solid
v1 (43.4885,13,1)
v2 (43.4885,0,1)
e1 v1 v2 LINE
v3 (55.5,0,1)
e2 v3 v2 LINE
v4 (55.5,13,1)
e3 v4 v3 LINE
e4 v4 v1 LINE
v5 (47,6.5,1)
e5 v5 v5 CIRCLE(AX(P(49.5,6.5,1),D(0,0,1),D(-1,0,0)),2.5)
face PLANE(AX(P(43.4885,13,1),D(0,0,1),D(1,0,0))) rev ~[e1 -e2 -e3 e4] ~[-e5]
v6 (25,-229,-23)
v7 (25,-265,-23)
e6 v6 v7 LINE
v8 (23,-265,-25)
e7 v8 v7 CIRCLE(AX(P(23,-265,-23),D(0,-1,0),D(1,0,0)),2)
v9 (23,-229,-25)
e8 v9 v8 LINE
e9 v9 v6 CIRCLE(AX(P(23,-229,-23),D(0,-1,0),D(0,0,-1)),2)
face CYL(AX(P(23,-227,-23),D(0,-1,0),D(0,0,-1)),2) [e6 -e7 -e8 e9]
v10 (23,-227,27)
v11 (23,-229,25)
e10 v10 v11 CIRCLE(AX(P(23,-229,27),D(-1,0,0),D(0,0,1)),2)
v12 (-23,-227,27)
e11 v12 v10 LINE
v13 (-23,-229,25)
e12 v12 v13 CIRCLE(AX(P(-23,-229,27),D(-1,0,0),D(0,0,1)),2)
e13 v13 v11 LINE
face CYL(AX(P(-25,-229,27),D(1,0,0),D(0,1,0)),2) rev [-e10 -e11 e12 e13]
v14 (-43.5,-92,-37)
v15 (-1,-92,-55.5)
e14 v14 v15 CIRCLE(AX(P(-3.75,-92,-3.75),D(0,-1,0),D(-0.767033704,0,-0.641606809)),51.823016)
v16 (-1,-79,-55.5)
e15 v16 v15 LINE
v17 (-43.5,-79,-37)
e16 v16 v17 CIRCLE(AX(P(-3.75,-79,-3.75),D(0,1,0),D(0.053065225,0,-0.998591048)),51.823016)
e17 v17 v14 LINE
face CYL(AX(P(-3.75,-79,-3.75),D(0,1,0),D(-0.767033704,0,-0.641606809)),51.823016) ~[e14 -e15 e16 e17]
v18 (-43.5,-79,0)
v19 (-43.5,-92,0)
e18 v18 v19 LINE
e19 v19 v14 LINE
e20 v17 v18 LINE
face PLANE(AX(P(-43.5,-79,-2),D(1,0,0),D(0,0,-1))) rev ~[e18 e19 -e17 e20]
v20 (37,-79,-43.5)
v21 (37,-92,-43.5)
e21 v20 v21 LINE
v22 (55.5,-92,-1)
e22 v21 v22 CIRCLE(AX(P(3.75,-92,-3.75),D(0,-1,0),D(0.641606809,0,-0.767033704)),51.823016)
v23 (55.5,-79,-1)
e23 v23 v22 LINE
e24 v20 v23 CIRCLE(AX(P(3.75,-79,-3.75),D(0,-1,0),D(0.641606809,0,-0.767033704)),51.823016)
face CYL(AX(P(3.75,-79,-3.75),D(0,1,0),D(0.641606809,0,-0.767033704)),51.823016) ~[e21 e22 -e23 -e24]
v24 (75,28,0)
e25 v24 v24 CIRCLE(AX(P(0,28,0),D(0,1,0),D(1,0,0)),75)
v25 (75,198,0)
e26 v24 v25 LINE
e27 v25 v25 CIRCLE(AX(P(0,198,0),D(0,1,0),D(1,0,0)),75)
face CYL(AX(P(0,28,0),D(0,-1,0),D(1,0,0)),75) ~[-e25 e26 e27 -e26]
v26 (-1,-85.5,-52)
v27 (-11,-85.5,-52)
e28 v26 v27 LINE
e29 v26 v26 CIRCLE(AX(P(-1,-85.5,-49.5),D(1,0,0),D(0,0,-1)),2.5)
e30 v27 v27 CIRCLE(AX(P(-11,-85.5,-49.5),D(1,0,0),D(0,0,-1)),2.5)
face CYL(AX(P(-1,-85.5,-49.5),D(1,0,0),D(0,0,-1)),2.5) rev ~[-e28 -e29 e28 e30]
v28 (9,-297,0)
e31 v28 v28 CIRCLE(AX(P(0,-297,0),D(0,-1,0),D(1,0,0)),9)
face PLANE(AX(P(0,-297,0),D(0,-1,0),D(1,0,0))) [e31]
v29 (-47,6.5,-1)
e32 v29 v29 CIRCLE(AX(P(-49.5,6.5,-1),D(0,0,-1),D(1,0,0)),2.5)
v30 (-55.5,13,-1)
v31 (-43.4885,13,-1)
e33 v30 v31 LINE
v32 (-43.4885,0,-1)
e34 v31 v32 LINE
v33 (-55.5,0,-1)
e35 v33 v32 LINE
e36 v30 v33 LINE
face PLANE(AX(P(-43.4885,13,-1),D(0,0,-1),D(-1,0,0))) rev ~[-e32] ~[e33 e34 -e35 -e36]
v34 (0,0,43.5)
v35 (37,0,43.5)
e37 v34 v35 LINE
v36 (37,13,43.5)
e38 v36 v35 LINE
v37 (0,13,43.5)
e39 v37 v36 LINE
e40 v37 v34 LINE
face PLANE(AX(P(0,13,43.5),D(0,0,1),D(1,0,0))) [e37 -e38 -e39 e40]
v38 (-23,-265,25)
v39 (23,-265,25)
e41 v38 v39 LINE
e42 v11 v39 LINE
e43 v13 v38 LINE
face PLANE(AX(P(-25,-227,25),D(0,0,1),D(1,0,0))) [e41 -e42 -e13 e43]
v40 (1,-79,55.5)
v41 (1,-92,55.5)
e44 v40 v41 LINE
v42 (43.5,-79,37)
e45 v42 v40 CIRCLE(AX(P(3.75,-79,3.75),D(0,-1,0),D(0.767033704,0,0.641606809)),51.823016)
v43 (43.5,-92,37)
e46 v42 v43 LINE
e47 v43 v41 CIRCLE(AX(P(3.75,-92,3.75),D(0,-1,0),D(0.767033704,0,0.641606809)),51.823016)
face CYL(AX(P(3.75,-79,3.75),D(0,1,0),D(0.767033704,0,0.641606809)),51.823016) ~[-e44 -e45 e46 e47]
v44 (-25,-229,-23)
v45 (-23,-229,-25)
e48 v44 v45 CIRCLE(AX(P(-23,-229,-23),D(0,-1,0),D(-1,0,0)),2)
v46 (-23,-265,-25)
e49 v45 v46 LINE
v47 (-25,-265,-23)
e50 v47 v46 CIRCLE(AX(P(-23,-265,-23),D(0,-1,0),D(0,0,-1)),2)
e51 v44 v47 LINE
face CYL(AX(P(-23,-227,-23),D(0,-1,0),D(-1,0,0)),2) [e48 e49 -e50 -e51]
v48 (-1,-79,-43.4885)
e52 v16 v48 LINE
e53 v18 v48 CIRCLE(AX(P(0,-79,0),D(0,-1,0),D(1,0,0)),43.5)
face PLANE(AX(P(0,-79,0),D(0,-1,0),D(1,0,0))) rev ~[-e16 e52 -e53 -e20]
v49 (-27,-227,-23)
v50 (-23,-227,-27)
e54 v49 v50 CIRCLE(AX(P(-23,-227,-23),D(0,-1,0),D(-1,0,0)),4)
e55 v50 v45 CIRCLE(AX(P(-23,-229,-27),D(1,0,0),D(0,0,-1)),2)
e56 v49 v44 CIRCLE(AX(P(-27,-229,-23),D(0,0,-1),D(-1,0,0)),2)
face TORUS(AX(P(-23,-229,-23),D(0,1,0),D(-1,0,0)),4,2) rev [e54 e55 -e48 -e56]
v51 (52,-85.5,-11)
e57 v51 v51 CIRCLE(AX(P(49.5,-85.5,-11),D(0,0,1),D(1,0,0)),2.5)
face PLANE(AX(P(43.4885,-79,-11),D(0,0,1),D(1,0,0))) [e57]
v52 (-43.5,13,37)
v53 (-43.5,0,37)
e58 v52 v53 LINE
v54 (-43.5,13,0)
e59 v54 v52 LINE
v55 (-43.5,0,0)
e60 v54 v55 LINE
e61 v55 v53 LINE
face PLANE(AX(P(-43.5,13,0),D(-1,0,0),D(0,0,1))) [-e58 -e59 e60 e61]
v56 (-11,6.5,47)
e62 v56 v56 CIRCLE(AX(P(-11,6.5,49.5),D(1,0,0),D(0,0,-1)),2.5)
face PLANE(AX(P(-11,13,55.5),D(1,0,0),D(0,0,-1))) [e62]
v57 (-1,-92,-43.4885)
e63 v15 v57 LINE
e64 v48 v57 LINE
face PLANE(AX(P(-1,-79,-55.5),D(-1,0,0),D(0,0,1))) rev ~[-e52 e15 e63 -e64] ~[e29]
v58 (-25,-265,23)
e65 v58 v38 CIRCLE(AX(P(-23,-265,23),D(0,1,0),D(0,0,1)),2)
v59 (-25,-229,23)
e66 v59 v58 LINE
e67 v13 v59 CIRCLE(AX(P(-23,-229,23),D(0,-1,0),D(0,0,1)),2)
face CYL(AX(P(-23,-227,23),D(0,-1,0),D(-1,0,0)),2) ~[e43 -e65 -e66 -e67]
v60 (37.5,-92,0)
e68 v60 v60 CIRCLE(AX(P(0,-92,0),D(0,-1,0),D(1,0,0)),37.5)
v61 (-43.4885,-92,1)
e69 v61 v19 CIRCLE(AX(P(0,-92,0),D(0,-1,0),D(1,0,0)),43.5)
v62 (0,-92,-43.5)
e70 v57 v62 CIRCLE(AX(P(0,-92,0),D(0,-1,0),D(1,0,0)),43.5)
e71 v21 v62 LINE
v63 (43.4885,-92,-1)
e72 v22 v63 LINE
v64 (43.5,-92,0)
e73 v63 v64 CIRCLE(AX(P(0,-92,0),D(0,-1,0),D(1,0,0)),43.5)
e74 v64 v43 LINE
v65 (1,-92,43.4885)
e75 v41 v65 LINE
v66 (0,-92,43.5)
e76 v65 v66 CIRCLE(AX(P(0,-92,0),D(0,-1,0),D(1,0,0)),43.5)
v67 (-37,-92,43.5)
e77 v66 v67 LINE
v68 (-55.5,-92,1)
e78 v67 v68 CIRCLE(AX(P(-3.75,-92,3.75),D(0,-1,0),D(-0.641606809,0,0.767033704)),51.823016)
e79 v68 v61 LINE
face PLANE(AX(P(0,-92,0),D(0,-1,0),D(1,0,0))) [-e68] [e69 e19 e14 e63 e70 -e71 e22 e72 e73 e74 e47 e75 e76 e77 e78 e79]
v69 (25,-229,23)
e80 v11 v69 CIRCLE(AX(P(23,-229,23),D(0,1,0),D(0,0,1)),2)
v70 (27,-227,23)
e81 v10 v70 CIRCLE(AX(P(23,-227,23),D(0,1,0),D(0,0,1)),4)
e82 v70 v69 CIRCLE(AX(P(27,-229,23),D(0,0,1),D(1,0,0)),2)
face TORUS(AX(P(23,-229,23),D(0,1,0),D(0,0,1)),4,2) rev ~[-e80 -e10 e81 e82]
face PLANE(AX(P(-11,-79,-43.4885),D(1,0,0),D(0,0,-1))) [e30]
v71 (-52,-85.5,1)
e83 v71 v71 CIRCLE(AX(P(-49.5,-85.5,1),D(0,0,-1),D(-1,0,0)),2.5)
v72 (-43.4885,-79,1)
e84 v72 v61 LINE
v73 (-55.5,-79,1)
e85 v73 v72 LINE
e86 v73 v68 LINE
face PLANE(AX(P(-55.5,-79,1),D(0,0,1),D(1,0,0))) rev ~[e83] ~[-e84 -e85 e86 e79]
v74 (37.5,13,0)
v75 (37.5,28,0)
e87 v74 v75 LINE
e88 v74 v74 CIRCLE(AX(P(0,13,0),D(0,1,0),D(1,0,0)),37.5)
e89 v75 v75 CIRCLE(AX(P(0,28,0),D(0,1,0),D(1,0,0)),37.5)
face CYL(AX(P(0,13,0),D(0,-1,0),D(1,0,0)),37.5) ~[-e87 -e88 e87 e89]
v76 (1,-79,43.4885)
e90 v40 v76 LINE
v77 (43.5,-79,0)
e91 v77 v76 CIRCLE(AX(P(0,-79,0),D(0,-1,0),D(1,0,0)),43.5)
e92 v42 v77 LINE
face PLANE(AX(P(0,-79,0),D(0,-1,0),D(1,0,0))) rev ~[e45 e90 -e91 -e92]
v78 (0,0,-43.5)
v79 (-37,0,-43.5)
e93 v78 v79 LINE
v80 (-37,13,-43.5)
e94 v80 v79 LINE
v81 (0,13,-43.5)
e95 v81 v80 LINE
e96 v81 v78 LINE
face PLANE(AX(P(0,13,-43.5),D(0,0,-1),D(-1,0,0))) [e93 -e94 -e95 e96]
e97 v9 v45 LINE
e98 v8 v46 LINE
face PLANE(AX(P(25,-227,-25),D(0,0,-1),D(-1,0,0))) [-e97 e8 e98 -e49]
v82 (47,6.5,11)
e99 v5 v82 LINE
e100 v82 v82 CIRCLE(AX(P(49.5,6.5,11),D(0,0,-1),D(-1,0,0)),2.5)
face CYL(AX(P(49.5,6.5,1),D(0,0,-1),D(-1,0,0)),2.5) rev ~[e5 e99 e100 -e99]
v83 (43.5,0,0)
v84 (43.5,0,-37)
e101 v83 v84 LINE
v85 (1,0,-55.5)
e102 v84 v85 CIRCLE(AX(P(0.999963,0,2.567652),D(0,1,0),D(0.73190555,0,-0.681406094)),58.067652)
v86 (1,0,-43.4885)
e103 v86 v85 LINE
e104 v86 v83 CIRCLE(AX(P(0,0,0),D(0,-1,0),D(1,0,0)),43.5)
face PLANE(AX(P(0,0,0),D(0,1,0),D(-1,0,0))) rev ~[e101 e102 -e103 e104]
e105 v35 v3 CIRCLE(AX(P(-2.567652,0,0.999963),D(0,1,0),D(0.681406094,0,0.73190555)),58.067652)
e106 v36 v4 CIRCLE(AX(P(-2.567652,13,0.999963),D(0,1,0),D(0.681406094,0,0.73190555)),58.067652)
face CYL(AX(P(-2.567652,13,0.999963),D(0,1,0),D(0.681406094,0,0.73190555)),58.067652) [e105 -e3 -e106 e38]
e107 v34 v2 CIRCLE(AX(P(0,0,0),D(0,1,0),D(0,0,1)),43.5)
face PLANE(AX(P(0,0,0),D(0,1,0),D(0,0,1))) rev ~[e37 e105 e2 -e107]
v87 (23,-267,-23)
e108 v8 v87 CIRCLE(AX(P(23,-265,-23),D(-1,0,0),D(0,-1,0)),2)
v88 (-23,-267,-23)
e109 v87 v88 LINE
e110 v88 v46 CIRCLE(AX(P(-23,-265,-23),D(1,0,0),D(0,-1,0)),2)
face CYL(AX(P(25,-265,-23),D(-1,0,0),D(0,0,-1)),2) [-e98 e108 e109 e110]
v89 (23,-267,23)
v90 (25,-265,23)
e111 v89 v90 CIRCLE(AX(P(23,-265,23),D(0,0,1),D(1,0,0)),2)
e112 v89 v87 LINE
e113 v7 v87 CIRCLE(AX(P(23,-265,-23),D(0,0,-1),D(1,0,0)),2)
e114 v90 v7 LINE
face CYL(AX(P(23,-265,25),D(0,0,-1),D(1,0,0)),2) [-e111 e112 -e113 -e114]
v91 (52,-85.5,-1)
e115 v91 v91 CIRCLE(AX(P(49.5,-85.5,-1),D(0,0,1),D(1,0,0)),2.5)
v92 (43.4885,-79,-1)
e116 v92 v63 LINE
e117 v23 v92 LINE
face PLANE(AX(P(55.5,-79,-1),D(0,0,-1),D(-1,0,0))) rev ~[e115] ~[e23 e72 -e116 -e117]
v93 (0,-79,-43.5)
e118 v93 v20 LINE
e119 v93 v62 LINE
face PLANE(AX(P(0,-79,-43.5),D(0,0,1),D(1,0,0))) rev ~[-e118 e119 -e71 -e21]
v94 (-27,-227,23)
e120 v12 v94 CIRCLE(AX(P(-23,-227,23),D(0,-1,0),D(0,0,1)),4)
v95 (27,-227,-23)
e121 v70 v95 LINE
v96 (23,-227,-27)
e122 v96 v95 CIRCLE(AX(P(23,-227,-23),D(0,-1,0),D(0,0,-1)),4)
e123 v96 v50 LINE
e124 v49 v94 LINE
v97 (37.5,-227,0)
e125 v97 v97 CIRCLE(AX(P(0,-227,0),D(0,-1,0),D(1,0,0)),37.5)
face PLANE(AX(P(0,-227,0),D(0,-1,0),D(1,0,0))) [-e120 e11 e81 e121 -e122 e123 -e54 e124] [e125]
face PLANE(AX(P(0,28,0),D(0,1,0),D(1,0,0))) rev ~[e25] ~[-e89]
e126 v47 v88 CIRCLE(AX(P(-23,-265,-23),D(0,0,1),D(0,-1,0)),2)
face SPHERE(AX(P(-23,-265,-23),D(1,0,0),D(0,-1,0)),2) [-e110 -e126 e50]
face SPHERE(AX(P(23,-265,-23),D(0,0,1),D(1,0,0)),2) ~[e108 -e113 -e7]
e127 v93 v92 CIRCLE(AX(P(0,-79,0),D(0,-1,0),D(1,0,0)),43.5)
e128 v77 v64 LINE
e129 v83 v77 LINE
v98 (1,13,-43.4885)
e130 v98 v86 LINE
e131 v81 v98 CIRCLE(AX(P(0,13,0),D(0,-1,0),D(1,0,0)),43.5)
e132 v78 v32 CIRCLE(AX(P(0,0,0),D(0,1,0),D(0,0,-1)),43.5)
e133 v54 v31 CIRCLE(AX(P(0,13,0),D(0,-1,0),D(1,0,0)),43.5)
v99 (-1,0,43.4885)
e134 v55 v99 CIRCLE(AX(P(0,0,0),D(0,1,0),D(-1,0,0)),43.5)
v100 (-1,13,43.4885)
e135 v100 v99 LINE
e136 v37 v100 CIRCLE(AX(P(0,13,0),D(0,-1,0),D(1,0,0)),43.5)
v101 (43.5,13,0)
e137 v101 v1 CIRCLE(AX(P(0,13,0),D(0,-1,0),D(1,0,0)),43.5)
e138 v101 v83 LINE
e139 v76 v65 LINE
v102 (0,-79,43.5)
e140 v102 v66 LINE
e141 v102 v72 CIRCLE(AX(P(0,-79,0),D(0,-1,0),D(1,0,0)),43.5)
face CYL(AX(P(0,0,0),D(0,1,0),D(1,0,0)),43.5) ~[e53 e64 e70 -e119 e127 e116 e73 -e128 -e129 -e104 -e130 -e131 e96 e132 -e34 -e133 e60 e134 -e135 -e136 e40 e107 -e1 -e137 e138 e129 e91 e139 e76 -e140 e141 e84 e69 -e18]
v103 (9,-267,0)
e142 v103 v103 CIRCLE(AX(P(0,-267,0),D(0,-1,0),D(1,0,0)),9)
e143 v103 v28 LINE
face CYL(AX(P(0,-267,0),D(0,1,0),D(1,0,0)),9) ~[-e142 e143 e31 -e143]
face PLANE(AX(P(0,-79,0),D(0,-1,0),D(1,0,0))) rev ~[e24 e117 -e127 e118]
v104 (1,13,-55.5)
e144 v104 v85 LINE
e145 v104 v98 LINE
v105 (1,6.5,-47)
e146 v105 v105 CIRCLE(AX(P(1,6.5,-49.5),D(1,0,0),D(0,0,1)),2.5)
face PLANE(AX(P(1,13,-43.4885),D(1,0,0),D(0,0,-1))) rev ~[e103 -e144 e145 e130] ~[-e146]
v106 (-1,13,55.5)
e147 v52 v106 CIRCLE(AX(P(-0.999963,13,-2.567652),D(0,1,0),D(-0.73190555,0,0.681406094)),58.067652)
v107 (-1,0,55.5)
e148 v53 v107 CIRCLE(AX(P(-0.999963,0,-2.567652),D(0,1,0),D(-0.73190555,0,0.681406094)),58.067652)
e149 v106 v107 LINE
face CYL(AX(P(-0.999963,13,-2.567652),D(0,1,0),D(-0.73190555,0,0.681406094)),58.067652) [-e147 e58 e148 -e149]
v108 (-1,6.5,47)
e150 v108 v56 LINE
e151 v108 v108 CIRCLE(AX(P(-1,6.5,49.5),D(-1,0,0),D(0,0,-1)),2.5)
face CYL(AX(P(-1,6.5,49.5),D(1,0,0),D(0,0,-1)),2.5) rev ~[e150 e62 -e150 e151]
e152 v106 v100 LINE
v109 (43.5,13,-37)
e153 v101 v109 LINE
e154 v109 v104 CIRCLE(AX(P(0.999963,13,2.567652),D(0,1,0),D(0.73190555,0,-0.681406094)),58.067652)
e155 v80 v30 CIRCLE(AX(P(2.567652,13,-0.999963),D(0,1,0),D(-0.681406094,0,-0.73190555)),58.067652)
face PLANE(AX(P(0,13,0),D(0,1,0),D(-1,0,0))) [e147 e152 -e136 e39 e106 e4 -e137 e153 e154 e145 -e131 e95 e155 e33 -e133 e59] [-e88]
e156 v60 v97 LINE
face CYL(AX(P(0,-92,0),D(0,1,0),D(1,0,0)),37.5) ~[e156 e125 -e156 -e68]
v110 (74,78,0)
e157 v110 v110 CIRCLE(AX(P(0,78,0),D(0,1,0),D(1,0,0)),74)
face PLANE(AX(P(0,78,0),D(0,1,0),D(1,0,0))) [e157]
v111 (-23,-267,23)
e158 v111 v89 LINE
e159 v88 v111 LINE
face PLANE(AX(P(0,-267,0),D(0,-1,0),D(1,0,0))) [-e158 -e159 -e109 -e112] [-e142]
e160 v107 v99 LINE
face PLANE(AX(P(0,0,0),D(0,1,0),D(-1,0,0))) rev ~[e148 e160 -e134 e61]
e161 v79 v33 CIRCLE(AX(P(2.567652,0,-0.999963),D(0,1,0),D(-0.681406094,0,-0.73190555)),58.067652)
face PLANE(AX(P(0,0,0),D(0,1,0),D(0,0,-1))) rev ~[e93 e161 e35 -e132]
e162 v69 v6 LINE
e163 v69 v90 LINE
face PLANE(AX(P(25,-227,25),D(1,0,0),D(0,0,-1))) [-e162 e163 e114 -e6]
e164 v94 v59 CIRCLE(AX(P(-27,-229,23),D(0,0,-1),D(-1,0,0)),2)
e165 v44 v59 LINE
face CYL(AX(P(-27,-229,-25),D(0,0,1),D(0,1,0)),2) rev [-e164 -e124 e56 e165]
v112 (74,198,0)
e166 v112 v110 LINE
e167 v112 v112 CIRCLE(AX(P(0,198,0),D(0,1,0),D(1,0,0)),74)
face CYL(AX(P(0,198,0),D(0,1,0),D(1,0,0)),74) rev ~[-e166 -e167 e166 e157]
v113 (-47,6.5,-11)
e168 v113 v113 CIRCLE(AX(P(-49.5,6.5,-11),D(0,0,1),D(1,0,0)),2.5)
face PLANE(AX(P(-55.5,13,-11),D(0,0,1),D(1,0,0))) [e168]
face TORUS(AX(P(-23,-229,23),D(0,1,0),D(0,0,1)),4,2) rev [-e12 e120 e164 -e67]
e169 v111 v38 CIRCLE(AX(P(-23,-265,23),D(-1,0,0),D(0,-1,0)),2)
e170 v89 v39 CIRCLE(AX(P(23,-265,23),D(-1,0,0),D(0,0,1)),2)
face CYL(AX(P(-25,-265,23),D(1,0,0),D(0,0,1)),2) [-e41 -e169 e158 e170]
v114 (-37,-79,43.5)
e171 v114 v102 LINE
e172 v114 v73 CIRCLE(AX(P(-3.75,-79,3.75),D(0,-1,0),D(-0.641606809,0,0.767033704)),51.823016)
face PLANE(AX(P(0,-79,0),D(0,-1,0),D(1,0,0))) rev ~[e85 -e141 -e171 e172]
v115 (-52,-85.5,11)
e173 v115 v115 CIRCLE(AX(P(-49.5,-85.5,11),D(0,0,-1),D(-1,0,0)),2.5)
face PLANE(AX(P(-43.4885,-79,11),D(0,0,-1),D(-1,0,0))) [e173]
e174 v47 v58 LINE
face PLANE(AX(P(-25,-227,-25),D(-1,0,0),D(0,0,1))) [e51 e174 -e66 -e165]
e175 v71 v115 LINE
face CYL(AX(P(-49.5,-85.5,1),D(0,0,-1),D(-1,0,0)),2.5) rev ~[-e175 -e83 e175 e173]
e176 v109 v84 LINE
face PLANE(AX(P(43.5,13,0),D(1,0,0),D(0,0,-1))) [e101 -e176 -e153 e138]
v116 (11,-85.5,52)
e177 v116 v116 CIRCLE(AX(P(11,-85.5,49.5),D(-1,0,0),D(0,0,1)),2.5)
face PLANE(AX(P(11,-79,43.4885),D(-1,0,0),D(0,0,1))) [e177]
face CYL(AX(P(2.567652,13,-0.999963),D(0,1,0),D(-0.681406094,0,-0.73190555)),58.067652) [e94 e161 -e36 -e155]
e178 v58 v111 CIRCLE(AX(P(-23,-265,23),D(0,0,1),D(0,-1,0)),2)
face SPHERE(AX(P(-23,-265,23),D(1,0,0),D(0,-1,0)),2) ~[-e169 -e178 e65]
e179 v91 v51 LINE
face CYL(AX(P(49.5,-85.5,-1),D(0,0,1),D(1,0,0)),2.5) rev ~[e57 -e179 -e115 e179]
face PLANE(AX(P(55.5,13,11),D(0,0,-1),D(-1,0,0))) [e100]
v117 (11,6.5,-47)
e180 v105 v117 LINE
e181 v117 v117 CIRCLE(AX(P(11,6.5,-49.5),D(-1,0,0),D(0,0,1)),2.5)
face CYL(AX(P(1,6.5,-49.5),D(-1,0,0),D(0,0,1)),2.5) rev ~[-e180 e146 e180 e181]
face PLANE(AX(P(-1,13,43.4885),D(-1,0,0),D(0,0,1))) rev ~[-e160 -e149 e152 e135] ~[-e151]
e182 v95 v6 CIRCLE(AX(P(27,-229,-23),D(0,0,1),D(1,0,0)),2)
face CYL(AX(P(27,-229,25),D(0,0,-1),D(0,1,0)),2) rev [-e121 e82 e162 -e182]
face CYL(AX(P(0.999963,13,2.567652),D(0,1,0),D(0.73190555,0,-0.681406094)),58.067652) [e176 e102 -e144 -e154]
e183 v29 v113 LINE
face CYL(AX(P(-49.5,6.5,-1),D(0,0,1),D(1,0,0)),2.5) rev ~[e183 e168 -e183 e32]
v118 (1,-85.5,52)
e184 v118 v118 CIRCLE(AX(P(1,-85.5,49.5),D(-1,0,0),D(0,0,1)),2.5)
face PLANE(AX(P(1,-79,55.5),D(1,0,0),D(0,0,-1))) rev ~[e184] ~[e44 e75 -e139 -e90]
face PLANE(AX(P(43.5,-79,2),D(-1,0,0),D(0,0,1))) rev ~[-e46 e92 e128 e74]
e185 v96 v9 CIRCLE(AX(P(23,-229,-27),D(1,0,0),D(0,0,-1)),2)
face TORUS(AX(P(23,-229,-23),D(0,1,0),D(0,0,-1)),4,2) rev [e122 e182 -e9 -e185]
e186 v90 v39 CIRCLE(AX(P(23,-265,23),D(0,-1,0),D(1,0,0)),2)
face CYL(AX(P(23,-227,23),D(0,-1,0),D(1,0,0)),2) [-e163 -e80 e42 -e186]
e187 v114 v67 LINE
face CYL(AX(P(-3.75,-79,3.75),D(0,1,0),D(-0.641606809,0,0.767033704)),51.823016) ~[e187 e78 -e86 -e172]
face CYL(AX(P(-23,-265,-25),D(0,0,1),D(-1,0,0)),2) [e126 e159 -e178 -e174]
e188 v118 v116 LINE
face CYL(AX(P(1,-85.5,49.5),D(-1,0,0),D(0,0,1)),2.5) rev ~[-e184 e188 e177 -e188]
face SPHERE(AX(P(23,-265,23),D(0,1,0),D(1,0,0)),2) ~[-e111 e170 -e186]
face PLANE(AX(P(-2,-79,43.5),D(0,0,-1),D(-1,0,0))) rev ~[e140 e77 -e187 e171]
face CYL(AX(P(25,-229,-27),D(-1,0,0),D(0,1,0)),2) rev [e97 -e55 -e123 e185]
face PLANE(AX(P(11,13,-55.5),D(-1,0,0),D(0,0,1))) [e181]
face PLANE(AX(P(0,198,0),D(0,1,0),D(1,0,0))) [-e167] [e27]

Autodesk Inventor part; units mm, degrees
ref_plane "YZ Plane" through (0, 0, 0) normal (1, 0, 0) x (0, 1, 0)
ref_plane "XZ Plane" through (0, 0, 0) normal (0, 1, 0) x (-1, 0, 0)
ref_plane "XY Plane" through (0, 0, 0) normal (0, 0, 1) x (1, 0, 0)
sketch "Sketch1" plane through (0, 0, 0) normal (0, 1, 0) x (-1, 0, 0)
  circle A0 centre (0, 0) radius 43.5
  dimension "d0" = 87
extrude "Extrusion1" add sketch "Sketch1" along normal blind 13
sketch "Sketch2" plane through (0, 13, 0) normal (0, 1, 0) x (1, 0, 0)
  circle A0 centre (0, 0) radius 43.5 projected
  line L0 (0, 55.4914) -> (0, 55.5)
  circle A1 centre (0, 0) radius 43.5 projected
  line L1 (43.5, 0) -> (43.5, 37)
  line L2 (0, 55.5) -> (1, 55.5)
  line L3 (1, 55.5) -> (1, 43.5)
  line L4 (0, 55.4914) -> (0, 55.5)
  arc A2 (43.5, 37) -> (1, 55.5) centre (1, -2.5676) ccw
  line L5 (1, 43.4885) -> (1, 43.5)
  line L6 (-55.5, 1) -> (-43.5, 1)
  arc A3 (-37, 43.5) -> (-55.5, 1) centre (2.5676, 1) ccw
  line L7 (0, 43.5) -> (-37, 43.5)
  line L8 (-1, -55.5) -> (-1, -43.5)
  arc A4 (-43.5, -37) -> (-1, -55.5) centre (-1, 2.5676) ccw
  line L9 (-43.5, 0) -> (-43.5, -37)
  line L10 (55.5, -1) -> (43.5, -1)
  arc A5 (37, -43.5) -> (55.5, -1) centre (-2.5676, -1) ccw
  line L11 (0, -43.5) -> (37, -43.5)
  point P0 (0, 43.5)
  point P1 (43.5, 0)
  point P2 (-55.4914, 0)
  point P3 (0, -55.4914)
  point P4 (55.4914, 0)
  dimension "d3" = 12
  dimension "d75" = 1
  dimension "d91" = 37
  dimension "d92" = 58.0676
  dimension "d93" = 42.5
  dimension "d94" = 0
  dimension "d95" = 87.5
  dimension "d110" = 360
extrude "Extrusion2" add sketch "Sketch2" against normal blind 13 contours A0 L5 L3 A2 L1
sketch "Sketch6" plane through (0, 0, 0) normal (0, -1, 0) x (1, 0, 0)
  circle A0 centre (0, 0) radius 43.5
  point P0 (0, 43.5)
sketch "Sketch17" plane through (0, 13, 0) normal (0, 1, 0) x (1, 0, 0)
  circle A0 centre (0, 0) radius 25
  dimension "d141" = 50
extrude "Extrusion16" add sketch "Sketch17" along normal blind 2
sketch "Sketch7" plane through (0, 13, 0) normal (0, 1, 0) x (1, 0, 0)
  circle A0 centre (0, 0) radius 37.5
  dimension "d23" = 75
extrude "Extrusion5" add sketch "Sketch7" along normal blind 15
extrude "Extrusion6" add sketch "Sketch6" along normal blind 79
sketch "Sketch8" plane through (0, -79, 0) normal (0, -1, 0) x (1, 0, 0)
  line L0 (0, -43.5) -> (0, -55.5) projected
  line L1 (0, -43.4937) -> (0, -55.5)
  line L2 (43.4937, 0) -> (55.5, 0)
  line L3 (0, 43.4937) -> (0, 55.5)
  line L4 (-43.4937, 0) -> (-55.5, 0)
  line L5 (-55.5, -2) -> (-43.5, -2)
  circle A0 centre (0, 0) radius 43.5
  line L6 (-43.5, 0) -> (-55.5, 0) projected
  line L7 (-55.5, 0) -> (-55.5, -2)
  line L8 (-43.5, 0) -> (-43.5, -37)
  circle A1 centre (0, 0) radius 43.5 projected
  line L9 (-55.5, 0) -> (-55.5, 1)
  line L10 (-55.5, 1) -> (-43.4885, 1)
  line L11 (0, -43.5) -> (37, -43.5)
  line L12 (-1, -55.5) -> (-1, -43.4885)
  line L13 (2, -55.5) -> (2, -43.5)
  line L14 (0, -55.5) -> (2, -55.5)
  line L15 (0, -55.5) -> (-1, -55.5)
  circle A2 centre (0, 0) radius 43.5
  line L16 (43.5, 0) -> (43.5, 37)
  line L17 (55.5, -1) -> (43.4885, -1)
  line L18 (55.5, 2) -> (43.5, 2)
  line L19 (55.5, 0) -> (55.5, 2)
  line L20 (55.5, 0) -> (55.5, -1)
  circle A3 centre (0, 0) radius 43.5
  line L21 (0, 43.5) -> (-37, 43.5)
  line L22 (1, 55.5) -> (1, 43.4885)
  line L23 (-2, 55.5) -> (-2, 43.5)
  line L24 (0, 55.5) -> (-2, 55.5)
  line L25 (0, 55.5) -> (1, 55.5)
  circle A4 centre (0, 0) radius 43.5
  line L26 (-2, -43.5) -> (-37, -43.5) projected
  arc A5 (-43.5, -37) -> (-1, -55.5) centre (-3.75, -3.75) ccw
  arc A6 (37, -43.5) -> (55.5, -1) centre (3.75, -3.75) ccw
  line L27 (0, -43.5) -> (37, -43.5)
  line L28 (2, -55.5) -> (2, -43.5)
  line L29 (-1, -55.5) -> (-1, -43.4885)
  line L30 (0, -55.5) -> (2, -55.5)
  arc A7 (43.5, 37) -> (1, 55.5) centre (3.75, 3.75) ccw
  line L31 (43.5, 0) -> (43.5, 37)
  line L32 (55.5, 2) -> (43.5, 2)
  line L33 (55.5, -1) -> (43.4885, -1)
  line L34 (55.5, 0) -> (55.5, 2)
  arc A8 (-37, 43.5) -> (-55.5, 1) centre (-3.75, 3.75) ccw
  line L35 (0, 43.5) -> (-37, 43.5)
  line L36 (-2, 55.5) -> (-2, 43.5)
  line L37 (1, 55.5) -> (1, 43.4885)
  line L38 (0, 55.5) -> (-2, 55.5)
  line L39 (-43.5, -37) -> (0, -37)
  line L40 (0, -37) -> (0, -55.5)
  point P0 (43.5, 0)
  point P1 (0, 43.5)
  point P2 (-43.5, 0)
  point P3 (43.5, -37)
  point P4 (37, 43.5)
  point P5 (-43.5, 37)
  point P6 (43.5, 0)
  point P7 (0, 43.5)
  point P8 (-43.5, 0)
  dimension "d30" = 360
  dimension "d32" = 2
  dimension "d33" = 12
  dimension "d52" = 35
  dimension "d60" = 1
  dimension "d67" = 360
  dimension "d71" = 360
  dimension "d137" = 51.823
  dimension "d138" = 3.75
  dimension "d139" = 43.5
  dimension "d140" = 18.5
extrude "Extrusion7" add sketch "Sketch8" along normal blind 13 contours A0 L39 L40 L1 | L1 L40 L39 A0 | A0 L17 A6 L11 | L12 A5 L39 A0 | L39 L8 A0 | A0 L22 A7 L16 | L10 A8 L21 A0
sketch "Sketch9" plane through (0, -92, 0) normal (0, -1, 0) x (1, 0, 0)
  circle A0 centre (0, 0) radius 37.5
extrude "Extrusion8" add sketch "Sketch9" along normal blind 135
sketch "Sketch10" plane through (0, -227, 0) normal (0, -1, 0) x (1, 0, 0)
  line L0 (-25, 25) -> (25, 25)
  line L1 (25, 25) -> (25, -25)
  line L2 (25, -25) -> (-25, -25)
  line L3 (-25, -25) -> (-25, 25)
  point P0 (0, 0)
  point P1 (0, -25)
  dimension "d43" = 25
  dimension "d44" = 50
  dimension "d45" = 50
  dimension "d46" = 25
extrude "Extrusion9" add sketch "Sketch10" along normal blind 40
sketch "Sketch11" plane through (0, -267, 0) normal (0, -1, 0) x (1, 0, 0)
  circle A0 centre (0, 0) radius 9
  dimension "d49" = 18
extrude "Extrusion10" add sketch "Sketch11" along normal blind 30
pattern_circular "Circular Pattern1" count 4 over 360 about axis through (0, -10, 0) along (0, 1, 0) of "Extrusion2"
sketch "Sketch13" plane through (1, 13, -55.5) normal (-1, 0, 0) x (0, 0, 1)
  line L0 (0, 0) -> (0, -13) projected
  line L1 (0, -6.5) -> (12, -6.5)
  line L2 (12, -13) -> (12, 0) projected
  circle A0 centre (6, -6.5) radius 2.5
  point P0 (55.5, -13)
extrude "Extrusion12" cut sketch "Sketch13" against normal blind 10
pattern_circular "Circular Pattern2" count 4 over 360 about axis through (0, -10, 0) along (0, 1, 0) of "Extrusion12"
sketch "Sketch14" plane through (43.4885, -79, -1) normal (0, 0, 1) x (1, 0, 0)
  line L0 (12.0115, -13) -> (0, -13) projected
  line L1 (12.0115, 0) -> (0, 0) projected
  circle A0 centre (6.0115, -6.5) radius 2.5
  line L2 (0.0115, 0) -> (0.0115, -13) projected
  point P0 (-43.4885, 79)
  point P1 (6.0057, -13)
  point P2 (0.0115, -6.5)
  dimension "d120" = 5
  dimension "d128" = 6.5
  dimension "d129" = 6
extrude "Extrusion13" cut sketch "Sketch14" against normal blind 10
pattern_circular "Circular Pattern3" count 4 over 360 about axis through (0, -10, 0) along (0, 1, 0) of "Extrusion13"
fillet "Fillet1" radius 2 12 edges at (25, -227, 0) (25, -247, 25) (25, -267, 0) (25, -247, -25) (0, -267, -25) (0, -267, 25) (-25, -267, 0) (0, -227, -25) (-25, -247, -25) (-25, -227, 0) (-25, -247, 25) (0, -227, 25)
sketch "Sketch15" plane through (0, 28, 0) normal (0, 1, 0) x (1, 0, 0)
  circle A0 centre (0, 0) radius 75
  dimension "d131" = 150
extrude "Extrusion14" add sketch "Sketch15" along normal blind 170
sketch "Sketch16" plane through (0, 198, 0) normal (0, 1, 0) x (1, 0, 0)
  circle A0 centre (0, 0) radius 9 projected
  circle A1 centre (0, 0) radius 74
  dimension "d134" = 148
extrude "Extrusion15" cut sketch "Sketch16" against normal blind 120 contours A0 | A1
properties part number "Carbon_Fibre" material "Steel"
